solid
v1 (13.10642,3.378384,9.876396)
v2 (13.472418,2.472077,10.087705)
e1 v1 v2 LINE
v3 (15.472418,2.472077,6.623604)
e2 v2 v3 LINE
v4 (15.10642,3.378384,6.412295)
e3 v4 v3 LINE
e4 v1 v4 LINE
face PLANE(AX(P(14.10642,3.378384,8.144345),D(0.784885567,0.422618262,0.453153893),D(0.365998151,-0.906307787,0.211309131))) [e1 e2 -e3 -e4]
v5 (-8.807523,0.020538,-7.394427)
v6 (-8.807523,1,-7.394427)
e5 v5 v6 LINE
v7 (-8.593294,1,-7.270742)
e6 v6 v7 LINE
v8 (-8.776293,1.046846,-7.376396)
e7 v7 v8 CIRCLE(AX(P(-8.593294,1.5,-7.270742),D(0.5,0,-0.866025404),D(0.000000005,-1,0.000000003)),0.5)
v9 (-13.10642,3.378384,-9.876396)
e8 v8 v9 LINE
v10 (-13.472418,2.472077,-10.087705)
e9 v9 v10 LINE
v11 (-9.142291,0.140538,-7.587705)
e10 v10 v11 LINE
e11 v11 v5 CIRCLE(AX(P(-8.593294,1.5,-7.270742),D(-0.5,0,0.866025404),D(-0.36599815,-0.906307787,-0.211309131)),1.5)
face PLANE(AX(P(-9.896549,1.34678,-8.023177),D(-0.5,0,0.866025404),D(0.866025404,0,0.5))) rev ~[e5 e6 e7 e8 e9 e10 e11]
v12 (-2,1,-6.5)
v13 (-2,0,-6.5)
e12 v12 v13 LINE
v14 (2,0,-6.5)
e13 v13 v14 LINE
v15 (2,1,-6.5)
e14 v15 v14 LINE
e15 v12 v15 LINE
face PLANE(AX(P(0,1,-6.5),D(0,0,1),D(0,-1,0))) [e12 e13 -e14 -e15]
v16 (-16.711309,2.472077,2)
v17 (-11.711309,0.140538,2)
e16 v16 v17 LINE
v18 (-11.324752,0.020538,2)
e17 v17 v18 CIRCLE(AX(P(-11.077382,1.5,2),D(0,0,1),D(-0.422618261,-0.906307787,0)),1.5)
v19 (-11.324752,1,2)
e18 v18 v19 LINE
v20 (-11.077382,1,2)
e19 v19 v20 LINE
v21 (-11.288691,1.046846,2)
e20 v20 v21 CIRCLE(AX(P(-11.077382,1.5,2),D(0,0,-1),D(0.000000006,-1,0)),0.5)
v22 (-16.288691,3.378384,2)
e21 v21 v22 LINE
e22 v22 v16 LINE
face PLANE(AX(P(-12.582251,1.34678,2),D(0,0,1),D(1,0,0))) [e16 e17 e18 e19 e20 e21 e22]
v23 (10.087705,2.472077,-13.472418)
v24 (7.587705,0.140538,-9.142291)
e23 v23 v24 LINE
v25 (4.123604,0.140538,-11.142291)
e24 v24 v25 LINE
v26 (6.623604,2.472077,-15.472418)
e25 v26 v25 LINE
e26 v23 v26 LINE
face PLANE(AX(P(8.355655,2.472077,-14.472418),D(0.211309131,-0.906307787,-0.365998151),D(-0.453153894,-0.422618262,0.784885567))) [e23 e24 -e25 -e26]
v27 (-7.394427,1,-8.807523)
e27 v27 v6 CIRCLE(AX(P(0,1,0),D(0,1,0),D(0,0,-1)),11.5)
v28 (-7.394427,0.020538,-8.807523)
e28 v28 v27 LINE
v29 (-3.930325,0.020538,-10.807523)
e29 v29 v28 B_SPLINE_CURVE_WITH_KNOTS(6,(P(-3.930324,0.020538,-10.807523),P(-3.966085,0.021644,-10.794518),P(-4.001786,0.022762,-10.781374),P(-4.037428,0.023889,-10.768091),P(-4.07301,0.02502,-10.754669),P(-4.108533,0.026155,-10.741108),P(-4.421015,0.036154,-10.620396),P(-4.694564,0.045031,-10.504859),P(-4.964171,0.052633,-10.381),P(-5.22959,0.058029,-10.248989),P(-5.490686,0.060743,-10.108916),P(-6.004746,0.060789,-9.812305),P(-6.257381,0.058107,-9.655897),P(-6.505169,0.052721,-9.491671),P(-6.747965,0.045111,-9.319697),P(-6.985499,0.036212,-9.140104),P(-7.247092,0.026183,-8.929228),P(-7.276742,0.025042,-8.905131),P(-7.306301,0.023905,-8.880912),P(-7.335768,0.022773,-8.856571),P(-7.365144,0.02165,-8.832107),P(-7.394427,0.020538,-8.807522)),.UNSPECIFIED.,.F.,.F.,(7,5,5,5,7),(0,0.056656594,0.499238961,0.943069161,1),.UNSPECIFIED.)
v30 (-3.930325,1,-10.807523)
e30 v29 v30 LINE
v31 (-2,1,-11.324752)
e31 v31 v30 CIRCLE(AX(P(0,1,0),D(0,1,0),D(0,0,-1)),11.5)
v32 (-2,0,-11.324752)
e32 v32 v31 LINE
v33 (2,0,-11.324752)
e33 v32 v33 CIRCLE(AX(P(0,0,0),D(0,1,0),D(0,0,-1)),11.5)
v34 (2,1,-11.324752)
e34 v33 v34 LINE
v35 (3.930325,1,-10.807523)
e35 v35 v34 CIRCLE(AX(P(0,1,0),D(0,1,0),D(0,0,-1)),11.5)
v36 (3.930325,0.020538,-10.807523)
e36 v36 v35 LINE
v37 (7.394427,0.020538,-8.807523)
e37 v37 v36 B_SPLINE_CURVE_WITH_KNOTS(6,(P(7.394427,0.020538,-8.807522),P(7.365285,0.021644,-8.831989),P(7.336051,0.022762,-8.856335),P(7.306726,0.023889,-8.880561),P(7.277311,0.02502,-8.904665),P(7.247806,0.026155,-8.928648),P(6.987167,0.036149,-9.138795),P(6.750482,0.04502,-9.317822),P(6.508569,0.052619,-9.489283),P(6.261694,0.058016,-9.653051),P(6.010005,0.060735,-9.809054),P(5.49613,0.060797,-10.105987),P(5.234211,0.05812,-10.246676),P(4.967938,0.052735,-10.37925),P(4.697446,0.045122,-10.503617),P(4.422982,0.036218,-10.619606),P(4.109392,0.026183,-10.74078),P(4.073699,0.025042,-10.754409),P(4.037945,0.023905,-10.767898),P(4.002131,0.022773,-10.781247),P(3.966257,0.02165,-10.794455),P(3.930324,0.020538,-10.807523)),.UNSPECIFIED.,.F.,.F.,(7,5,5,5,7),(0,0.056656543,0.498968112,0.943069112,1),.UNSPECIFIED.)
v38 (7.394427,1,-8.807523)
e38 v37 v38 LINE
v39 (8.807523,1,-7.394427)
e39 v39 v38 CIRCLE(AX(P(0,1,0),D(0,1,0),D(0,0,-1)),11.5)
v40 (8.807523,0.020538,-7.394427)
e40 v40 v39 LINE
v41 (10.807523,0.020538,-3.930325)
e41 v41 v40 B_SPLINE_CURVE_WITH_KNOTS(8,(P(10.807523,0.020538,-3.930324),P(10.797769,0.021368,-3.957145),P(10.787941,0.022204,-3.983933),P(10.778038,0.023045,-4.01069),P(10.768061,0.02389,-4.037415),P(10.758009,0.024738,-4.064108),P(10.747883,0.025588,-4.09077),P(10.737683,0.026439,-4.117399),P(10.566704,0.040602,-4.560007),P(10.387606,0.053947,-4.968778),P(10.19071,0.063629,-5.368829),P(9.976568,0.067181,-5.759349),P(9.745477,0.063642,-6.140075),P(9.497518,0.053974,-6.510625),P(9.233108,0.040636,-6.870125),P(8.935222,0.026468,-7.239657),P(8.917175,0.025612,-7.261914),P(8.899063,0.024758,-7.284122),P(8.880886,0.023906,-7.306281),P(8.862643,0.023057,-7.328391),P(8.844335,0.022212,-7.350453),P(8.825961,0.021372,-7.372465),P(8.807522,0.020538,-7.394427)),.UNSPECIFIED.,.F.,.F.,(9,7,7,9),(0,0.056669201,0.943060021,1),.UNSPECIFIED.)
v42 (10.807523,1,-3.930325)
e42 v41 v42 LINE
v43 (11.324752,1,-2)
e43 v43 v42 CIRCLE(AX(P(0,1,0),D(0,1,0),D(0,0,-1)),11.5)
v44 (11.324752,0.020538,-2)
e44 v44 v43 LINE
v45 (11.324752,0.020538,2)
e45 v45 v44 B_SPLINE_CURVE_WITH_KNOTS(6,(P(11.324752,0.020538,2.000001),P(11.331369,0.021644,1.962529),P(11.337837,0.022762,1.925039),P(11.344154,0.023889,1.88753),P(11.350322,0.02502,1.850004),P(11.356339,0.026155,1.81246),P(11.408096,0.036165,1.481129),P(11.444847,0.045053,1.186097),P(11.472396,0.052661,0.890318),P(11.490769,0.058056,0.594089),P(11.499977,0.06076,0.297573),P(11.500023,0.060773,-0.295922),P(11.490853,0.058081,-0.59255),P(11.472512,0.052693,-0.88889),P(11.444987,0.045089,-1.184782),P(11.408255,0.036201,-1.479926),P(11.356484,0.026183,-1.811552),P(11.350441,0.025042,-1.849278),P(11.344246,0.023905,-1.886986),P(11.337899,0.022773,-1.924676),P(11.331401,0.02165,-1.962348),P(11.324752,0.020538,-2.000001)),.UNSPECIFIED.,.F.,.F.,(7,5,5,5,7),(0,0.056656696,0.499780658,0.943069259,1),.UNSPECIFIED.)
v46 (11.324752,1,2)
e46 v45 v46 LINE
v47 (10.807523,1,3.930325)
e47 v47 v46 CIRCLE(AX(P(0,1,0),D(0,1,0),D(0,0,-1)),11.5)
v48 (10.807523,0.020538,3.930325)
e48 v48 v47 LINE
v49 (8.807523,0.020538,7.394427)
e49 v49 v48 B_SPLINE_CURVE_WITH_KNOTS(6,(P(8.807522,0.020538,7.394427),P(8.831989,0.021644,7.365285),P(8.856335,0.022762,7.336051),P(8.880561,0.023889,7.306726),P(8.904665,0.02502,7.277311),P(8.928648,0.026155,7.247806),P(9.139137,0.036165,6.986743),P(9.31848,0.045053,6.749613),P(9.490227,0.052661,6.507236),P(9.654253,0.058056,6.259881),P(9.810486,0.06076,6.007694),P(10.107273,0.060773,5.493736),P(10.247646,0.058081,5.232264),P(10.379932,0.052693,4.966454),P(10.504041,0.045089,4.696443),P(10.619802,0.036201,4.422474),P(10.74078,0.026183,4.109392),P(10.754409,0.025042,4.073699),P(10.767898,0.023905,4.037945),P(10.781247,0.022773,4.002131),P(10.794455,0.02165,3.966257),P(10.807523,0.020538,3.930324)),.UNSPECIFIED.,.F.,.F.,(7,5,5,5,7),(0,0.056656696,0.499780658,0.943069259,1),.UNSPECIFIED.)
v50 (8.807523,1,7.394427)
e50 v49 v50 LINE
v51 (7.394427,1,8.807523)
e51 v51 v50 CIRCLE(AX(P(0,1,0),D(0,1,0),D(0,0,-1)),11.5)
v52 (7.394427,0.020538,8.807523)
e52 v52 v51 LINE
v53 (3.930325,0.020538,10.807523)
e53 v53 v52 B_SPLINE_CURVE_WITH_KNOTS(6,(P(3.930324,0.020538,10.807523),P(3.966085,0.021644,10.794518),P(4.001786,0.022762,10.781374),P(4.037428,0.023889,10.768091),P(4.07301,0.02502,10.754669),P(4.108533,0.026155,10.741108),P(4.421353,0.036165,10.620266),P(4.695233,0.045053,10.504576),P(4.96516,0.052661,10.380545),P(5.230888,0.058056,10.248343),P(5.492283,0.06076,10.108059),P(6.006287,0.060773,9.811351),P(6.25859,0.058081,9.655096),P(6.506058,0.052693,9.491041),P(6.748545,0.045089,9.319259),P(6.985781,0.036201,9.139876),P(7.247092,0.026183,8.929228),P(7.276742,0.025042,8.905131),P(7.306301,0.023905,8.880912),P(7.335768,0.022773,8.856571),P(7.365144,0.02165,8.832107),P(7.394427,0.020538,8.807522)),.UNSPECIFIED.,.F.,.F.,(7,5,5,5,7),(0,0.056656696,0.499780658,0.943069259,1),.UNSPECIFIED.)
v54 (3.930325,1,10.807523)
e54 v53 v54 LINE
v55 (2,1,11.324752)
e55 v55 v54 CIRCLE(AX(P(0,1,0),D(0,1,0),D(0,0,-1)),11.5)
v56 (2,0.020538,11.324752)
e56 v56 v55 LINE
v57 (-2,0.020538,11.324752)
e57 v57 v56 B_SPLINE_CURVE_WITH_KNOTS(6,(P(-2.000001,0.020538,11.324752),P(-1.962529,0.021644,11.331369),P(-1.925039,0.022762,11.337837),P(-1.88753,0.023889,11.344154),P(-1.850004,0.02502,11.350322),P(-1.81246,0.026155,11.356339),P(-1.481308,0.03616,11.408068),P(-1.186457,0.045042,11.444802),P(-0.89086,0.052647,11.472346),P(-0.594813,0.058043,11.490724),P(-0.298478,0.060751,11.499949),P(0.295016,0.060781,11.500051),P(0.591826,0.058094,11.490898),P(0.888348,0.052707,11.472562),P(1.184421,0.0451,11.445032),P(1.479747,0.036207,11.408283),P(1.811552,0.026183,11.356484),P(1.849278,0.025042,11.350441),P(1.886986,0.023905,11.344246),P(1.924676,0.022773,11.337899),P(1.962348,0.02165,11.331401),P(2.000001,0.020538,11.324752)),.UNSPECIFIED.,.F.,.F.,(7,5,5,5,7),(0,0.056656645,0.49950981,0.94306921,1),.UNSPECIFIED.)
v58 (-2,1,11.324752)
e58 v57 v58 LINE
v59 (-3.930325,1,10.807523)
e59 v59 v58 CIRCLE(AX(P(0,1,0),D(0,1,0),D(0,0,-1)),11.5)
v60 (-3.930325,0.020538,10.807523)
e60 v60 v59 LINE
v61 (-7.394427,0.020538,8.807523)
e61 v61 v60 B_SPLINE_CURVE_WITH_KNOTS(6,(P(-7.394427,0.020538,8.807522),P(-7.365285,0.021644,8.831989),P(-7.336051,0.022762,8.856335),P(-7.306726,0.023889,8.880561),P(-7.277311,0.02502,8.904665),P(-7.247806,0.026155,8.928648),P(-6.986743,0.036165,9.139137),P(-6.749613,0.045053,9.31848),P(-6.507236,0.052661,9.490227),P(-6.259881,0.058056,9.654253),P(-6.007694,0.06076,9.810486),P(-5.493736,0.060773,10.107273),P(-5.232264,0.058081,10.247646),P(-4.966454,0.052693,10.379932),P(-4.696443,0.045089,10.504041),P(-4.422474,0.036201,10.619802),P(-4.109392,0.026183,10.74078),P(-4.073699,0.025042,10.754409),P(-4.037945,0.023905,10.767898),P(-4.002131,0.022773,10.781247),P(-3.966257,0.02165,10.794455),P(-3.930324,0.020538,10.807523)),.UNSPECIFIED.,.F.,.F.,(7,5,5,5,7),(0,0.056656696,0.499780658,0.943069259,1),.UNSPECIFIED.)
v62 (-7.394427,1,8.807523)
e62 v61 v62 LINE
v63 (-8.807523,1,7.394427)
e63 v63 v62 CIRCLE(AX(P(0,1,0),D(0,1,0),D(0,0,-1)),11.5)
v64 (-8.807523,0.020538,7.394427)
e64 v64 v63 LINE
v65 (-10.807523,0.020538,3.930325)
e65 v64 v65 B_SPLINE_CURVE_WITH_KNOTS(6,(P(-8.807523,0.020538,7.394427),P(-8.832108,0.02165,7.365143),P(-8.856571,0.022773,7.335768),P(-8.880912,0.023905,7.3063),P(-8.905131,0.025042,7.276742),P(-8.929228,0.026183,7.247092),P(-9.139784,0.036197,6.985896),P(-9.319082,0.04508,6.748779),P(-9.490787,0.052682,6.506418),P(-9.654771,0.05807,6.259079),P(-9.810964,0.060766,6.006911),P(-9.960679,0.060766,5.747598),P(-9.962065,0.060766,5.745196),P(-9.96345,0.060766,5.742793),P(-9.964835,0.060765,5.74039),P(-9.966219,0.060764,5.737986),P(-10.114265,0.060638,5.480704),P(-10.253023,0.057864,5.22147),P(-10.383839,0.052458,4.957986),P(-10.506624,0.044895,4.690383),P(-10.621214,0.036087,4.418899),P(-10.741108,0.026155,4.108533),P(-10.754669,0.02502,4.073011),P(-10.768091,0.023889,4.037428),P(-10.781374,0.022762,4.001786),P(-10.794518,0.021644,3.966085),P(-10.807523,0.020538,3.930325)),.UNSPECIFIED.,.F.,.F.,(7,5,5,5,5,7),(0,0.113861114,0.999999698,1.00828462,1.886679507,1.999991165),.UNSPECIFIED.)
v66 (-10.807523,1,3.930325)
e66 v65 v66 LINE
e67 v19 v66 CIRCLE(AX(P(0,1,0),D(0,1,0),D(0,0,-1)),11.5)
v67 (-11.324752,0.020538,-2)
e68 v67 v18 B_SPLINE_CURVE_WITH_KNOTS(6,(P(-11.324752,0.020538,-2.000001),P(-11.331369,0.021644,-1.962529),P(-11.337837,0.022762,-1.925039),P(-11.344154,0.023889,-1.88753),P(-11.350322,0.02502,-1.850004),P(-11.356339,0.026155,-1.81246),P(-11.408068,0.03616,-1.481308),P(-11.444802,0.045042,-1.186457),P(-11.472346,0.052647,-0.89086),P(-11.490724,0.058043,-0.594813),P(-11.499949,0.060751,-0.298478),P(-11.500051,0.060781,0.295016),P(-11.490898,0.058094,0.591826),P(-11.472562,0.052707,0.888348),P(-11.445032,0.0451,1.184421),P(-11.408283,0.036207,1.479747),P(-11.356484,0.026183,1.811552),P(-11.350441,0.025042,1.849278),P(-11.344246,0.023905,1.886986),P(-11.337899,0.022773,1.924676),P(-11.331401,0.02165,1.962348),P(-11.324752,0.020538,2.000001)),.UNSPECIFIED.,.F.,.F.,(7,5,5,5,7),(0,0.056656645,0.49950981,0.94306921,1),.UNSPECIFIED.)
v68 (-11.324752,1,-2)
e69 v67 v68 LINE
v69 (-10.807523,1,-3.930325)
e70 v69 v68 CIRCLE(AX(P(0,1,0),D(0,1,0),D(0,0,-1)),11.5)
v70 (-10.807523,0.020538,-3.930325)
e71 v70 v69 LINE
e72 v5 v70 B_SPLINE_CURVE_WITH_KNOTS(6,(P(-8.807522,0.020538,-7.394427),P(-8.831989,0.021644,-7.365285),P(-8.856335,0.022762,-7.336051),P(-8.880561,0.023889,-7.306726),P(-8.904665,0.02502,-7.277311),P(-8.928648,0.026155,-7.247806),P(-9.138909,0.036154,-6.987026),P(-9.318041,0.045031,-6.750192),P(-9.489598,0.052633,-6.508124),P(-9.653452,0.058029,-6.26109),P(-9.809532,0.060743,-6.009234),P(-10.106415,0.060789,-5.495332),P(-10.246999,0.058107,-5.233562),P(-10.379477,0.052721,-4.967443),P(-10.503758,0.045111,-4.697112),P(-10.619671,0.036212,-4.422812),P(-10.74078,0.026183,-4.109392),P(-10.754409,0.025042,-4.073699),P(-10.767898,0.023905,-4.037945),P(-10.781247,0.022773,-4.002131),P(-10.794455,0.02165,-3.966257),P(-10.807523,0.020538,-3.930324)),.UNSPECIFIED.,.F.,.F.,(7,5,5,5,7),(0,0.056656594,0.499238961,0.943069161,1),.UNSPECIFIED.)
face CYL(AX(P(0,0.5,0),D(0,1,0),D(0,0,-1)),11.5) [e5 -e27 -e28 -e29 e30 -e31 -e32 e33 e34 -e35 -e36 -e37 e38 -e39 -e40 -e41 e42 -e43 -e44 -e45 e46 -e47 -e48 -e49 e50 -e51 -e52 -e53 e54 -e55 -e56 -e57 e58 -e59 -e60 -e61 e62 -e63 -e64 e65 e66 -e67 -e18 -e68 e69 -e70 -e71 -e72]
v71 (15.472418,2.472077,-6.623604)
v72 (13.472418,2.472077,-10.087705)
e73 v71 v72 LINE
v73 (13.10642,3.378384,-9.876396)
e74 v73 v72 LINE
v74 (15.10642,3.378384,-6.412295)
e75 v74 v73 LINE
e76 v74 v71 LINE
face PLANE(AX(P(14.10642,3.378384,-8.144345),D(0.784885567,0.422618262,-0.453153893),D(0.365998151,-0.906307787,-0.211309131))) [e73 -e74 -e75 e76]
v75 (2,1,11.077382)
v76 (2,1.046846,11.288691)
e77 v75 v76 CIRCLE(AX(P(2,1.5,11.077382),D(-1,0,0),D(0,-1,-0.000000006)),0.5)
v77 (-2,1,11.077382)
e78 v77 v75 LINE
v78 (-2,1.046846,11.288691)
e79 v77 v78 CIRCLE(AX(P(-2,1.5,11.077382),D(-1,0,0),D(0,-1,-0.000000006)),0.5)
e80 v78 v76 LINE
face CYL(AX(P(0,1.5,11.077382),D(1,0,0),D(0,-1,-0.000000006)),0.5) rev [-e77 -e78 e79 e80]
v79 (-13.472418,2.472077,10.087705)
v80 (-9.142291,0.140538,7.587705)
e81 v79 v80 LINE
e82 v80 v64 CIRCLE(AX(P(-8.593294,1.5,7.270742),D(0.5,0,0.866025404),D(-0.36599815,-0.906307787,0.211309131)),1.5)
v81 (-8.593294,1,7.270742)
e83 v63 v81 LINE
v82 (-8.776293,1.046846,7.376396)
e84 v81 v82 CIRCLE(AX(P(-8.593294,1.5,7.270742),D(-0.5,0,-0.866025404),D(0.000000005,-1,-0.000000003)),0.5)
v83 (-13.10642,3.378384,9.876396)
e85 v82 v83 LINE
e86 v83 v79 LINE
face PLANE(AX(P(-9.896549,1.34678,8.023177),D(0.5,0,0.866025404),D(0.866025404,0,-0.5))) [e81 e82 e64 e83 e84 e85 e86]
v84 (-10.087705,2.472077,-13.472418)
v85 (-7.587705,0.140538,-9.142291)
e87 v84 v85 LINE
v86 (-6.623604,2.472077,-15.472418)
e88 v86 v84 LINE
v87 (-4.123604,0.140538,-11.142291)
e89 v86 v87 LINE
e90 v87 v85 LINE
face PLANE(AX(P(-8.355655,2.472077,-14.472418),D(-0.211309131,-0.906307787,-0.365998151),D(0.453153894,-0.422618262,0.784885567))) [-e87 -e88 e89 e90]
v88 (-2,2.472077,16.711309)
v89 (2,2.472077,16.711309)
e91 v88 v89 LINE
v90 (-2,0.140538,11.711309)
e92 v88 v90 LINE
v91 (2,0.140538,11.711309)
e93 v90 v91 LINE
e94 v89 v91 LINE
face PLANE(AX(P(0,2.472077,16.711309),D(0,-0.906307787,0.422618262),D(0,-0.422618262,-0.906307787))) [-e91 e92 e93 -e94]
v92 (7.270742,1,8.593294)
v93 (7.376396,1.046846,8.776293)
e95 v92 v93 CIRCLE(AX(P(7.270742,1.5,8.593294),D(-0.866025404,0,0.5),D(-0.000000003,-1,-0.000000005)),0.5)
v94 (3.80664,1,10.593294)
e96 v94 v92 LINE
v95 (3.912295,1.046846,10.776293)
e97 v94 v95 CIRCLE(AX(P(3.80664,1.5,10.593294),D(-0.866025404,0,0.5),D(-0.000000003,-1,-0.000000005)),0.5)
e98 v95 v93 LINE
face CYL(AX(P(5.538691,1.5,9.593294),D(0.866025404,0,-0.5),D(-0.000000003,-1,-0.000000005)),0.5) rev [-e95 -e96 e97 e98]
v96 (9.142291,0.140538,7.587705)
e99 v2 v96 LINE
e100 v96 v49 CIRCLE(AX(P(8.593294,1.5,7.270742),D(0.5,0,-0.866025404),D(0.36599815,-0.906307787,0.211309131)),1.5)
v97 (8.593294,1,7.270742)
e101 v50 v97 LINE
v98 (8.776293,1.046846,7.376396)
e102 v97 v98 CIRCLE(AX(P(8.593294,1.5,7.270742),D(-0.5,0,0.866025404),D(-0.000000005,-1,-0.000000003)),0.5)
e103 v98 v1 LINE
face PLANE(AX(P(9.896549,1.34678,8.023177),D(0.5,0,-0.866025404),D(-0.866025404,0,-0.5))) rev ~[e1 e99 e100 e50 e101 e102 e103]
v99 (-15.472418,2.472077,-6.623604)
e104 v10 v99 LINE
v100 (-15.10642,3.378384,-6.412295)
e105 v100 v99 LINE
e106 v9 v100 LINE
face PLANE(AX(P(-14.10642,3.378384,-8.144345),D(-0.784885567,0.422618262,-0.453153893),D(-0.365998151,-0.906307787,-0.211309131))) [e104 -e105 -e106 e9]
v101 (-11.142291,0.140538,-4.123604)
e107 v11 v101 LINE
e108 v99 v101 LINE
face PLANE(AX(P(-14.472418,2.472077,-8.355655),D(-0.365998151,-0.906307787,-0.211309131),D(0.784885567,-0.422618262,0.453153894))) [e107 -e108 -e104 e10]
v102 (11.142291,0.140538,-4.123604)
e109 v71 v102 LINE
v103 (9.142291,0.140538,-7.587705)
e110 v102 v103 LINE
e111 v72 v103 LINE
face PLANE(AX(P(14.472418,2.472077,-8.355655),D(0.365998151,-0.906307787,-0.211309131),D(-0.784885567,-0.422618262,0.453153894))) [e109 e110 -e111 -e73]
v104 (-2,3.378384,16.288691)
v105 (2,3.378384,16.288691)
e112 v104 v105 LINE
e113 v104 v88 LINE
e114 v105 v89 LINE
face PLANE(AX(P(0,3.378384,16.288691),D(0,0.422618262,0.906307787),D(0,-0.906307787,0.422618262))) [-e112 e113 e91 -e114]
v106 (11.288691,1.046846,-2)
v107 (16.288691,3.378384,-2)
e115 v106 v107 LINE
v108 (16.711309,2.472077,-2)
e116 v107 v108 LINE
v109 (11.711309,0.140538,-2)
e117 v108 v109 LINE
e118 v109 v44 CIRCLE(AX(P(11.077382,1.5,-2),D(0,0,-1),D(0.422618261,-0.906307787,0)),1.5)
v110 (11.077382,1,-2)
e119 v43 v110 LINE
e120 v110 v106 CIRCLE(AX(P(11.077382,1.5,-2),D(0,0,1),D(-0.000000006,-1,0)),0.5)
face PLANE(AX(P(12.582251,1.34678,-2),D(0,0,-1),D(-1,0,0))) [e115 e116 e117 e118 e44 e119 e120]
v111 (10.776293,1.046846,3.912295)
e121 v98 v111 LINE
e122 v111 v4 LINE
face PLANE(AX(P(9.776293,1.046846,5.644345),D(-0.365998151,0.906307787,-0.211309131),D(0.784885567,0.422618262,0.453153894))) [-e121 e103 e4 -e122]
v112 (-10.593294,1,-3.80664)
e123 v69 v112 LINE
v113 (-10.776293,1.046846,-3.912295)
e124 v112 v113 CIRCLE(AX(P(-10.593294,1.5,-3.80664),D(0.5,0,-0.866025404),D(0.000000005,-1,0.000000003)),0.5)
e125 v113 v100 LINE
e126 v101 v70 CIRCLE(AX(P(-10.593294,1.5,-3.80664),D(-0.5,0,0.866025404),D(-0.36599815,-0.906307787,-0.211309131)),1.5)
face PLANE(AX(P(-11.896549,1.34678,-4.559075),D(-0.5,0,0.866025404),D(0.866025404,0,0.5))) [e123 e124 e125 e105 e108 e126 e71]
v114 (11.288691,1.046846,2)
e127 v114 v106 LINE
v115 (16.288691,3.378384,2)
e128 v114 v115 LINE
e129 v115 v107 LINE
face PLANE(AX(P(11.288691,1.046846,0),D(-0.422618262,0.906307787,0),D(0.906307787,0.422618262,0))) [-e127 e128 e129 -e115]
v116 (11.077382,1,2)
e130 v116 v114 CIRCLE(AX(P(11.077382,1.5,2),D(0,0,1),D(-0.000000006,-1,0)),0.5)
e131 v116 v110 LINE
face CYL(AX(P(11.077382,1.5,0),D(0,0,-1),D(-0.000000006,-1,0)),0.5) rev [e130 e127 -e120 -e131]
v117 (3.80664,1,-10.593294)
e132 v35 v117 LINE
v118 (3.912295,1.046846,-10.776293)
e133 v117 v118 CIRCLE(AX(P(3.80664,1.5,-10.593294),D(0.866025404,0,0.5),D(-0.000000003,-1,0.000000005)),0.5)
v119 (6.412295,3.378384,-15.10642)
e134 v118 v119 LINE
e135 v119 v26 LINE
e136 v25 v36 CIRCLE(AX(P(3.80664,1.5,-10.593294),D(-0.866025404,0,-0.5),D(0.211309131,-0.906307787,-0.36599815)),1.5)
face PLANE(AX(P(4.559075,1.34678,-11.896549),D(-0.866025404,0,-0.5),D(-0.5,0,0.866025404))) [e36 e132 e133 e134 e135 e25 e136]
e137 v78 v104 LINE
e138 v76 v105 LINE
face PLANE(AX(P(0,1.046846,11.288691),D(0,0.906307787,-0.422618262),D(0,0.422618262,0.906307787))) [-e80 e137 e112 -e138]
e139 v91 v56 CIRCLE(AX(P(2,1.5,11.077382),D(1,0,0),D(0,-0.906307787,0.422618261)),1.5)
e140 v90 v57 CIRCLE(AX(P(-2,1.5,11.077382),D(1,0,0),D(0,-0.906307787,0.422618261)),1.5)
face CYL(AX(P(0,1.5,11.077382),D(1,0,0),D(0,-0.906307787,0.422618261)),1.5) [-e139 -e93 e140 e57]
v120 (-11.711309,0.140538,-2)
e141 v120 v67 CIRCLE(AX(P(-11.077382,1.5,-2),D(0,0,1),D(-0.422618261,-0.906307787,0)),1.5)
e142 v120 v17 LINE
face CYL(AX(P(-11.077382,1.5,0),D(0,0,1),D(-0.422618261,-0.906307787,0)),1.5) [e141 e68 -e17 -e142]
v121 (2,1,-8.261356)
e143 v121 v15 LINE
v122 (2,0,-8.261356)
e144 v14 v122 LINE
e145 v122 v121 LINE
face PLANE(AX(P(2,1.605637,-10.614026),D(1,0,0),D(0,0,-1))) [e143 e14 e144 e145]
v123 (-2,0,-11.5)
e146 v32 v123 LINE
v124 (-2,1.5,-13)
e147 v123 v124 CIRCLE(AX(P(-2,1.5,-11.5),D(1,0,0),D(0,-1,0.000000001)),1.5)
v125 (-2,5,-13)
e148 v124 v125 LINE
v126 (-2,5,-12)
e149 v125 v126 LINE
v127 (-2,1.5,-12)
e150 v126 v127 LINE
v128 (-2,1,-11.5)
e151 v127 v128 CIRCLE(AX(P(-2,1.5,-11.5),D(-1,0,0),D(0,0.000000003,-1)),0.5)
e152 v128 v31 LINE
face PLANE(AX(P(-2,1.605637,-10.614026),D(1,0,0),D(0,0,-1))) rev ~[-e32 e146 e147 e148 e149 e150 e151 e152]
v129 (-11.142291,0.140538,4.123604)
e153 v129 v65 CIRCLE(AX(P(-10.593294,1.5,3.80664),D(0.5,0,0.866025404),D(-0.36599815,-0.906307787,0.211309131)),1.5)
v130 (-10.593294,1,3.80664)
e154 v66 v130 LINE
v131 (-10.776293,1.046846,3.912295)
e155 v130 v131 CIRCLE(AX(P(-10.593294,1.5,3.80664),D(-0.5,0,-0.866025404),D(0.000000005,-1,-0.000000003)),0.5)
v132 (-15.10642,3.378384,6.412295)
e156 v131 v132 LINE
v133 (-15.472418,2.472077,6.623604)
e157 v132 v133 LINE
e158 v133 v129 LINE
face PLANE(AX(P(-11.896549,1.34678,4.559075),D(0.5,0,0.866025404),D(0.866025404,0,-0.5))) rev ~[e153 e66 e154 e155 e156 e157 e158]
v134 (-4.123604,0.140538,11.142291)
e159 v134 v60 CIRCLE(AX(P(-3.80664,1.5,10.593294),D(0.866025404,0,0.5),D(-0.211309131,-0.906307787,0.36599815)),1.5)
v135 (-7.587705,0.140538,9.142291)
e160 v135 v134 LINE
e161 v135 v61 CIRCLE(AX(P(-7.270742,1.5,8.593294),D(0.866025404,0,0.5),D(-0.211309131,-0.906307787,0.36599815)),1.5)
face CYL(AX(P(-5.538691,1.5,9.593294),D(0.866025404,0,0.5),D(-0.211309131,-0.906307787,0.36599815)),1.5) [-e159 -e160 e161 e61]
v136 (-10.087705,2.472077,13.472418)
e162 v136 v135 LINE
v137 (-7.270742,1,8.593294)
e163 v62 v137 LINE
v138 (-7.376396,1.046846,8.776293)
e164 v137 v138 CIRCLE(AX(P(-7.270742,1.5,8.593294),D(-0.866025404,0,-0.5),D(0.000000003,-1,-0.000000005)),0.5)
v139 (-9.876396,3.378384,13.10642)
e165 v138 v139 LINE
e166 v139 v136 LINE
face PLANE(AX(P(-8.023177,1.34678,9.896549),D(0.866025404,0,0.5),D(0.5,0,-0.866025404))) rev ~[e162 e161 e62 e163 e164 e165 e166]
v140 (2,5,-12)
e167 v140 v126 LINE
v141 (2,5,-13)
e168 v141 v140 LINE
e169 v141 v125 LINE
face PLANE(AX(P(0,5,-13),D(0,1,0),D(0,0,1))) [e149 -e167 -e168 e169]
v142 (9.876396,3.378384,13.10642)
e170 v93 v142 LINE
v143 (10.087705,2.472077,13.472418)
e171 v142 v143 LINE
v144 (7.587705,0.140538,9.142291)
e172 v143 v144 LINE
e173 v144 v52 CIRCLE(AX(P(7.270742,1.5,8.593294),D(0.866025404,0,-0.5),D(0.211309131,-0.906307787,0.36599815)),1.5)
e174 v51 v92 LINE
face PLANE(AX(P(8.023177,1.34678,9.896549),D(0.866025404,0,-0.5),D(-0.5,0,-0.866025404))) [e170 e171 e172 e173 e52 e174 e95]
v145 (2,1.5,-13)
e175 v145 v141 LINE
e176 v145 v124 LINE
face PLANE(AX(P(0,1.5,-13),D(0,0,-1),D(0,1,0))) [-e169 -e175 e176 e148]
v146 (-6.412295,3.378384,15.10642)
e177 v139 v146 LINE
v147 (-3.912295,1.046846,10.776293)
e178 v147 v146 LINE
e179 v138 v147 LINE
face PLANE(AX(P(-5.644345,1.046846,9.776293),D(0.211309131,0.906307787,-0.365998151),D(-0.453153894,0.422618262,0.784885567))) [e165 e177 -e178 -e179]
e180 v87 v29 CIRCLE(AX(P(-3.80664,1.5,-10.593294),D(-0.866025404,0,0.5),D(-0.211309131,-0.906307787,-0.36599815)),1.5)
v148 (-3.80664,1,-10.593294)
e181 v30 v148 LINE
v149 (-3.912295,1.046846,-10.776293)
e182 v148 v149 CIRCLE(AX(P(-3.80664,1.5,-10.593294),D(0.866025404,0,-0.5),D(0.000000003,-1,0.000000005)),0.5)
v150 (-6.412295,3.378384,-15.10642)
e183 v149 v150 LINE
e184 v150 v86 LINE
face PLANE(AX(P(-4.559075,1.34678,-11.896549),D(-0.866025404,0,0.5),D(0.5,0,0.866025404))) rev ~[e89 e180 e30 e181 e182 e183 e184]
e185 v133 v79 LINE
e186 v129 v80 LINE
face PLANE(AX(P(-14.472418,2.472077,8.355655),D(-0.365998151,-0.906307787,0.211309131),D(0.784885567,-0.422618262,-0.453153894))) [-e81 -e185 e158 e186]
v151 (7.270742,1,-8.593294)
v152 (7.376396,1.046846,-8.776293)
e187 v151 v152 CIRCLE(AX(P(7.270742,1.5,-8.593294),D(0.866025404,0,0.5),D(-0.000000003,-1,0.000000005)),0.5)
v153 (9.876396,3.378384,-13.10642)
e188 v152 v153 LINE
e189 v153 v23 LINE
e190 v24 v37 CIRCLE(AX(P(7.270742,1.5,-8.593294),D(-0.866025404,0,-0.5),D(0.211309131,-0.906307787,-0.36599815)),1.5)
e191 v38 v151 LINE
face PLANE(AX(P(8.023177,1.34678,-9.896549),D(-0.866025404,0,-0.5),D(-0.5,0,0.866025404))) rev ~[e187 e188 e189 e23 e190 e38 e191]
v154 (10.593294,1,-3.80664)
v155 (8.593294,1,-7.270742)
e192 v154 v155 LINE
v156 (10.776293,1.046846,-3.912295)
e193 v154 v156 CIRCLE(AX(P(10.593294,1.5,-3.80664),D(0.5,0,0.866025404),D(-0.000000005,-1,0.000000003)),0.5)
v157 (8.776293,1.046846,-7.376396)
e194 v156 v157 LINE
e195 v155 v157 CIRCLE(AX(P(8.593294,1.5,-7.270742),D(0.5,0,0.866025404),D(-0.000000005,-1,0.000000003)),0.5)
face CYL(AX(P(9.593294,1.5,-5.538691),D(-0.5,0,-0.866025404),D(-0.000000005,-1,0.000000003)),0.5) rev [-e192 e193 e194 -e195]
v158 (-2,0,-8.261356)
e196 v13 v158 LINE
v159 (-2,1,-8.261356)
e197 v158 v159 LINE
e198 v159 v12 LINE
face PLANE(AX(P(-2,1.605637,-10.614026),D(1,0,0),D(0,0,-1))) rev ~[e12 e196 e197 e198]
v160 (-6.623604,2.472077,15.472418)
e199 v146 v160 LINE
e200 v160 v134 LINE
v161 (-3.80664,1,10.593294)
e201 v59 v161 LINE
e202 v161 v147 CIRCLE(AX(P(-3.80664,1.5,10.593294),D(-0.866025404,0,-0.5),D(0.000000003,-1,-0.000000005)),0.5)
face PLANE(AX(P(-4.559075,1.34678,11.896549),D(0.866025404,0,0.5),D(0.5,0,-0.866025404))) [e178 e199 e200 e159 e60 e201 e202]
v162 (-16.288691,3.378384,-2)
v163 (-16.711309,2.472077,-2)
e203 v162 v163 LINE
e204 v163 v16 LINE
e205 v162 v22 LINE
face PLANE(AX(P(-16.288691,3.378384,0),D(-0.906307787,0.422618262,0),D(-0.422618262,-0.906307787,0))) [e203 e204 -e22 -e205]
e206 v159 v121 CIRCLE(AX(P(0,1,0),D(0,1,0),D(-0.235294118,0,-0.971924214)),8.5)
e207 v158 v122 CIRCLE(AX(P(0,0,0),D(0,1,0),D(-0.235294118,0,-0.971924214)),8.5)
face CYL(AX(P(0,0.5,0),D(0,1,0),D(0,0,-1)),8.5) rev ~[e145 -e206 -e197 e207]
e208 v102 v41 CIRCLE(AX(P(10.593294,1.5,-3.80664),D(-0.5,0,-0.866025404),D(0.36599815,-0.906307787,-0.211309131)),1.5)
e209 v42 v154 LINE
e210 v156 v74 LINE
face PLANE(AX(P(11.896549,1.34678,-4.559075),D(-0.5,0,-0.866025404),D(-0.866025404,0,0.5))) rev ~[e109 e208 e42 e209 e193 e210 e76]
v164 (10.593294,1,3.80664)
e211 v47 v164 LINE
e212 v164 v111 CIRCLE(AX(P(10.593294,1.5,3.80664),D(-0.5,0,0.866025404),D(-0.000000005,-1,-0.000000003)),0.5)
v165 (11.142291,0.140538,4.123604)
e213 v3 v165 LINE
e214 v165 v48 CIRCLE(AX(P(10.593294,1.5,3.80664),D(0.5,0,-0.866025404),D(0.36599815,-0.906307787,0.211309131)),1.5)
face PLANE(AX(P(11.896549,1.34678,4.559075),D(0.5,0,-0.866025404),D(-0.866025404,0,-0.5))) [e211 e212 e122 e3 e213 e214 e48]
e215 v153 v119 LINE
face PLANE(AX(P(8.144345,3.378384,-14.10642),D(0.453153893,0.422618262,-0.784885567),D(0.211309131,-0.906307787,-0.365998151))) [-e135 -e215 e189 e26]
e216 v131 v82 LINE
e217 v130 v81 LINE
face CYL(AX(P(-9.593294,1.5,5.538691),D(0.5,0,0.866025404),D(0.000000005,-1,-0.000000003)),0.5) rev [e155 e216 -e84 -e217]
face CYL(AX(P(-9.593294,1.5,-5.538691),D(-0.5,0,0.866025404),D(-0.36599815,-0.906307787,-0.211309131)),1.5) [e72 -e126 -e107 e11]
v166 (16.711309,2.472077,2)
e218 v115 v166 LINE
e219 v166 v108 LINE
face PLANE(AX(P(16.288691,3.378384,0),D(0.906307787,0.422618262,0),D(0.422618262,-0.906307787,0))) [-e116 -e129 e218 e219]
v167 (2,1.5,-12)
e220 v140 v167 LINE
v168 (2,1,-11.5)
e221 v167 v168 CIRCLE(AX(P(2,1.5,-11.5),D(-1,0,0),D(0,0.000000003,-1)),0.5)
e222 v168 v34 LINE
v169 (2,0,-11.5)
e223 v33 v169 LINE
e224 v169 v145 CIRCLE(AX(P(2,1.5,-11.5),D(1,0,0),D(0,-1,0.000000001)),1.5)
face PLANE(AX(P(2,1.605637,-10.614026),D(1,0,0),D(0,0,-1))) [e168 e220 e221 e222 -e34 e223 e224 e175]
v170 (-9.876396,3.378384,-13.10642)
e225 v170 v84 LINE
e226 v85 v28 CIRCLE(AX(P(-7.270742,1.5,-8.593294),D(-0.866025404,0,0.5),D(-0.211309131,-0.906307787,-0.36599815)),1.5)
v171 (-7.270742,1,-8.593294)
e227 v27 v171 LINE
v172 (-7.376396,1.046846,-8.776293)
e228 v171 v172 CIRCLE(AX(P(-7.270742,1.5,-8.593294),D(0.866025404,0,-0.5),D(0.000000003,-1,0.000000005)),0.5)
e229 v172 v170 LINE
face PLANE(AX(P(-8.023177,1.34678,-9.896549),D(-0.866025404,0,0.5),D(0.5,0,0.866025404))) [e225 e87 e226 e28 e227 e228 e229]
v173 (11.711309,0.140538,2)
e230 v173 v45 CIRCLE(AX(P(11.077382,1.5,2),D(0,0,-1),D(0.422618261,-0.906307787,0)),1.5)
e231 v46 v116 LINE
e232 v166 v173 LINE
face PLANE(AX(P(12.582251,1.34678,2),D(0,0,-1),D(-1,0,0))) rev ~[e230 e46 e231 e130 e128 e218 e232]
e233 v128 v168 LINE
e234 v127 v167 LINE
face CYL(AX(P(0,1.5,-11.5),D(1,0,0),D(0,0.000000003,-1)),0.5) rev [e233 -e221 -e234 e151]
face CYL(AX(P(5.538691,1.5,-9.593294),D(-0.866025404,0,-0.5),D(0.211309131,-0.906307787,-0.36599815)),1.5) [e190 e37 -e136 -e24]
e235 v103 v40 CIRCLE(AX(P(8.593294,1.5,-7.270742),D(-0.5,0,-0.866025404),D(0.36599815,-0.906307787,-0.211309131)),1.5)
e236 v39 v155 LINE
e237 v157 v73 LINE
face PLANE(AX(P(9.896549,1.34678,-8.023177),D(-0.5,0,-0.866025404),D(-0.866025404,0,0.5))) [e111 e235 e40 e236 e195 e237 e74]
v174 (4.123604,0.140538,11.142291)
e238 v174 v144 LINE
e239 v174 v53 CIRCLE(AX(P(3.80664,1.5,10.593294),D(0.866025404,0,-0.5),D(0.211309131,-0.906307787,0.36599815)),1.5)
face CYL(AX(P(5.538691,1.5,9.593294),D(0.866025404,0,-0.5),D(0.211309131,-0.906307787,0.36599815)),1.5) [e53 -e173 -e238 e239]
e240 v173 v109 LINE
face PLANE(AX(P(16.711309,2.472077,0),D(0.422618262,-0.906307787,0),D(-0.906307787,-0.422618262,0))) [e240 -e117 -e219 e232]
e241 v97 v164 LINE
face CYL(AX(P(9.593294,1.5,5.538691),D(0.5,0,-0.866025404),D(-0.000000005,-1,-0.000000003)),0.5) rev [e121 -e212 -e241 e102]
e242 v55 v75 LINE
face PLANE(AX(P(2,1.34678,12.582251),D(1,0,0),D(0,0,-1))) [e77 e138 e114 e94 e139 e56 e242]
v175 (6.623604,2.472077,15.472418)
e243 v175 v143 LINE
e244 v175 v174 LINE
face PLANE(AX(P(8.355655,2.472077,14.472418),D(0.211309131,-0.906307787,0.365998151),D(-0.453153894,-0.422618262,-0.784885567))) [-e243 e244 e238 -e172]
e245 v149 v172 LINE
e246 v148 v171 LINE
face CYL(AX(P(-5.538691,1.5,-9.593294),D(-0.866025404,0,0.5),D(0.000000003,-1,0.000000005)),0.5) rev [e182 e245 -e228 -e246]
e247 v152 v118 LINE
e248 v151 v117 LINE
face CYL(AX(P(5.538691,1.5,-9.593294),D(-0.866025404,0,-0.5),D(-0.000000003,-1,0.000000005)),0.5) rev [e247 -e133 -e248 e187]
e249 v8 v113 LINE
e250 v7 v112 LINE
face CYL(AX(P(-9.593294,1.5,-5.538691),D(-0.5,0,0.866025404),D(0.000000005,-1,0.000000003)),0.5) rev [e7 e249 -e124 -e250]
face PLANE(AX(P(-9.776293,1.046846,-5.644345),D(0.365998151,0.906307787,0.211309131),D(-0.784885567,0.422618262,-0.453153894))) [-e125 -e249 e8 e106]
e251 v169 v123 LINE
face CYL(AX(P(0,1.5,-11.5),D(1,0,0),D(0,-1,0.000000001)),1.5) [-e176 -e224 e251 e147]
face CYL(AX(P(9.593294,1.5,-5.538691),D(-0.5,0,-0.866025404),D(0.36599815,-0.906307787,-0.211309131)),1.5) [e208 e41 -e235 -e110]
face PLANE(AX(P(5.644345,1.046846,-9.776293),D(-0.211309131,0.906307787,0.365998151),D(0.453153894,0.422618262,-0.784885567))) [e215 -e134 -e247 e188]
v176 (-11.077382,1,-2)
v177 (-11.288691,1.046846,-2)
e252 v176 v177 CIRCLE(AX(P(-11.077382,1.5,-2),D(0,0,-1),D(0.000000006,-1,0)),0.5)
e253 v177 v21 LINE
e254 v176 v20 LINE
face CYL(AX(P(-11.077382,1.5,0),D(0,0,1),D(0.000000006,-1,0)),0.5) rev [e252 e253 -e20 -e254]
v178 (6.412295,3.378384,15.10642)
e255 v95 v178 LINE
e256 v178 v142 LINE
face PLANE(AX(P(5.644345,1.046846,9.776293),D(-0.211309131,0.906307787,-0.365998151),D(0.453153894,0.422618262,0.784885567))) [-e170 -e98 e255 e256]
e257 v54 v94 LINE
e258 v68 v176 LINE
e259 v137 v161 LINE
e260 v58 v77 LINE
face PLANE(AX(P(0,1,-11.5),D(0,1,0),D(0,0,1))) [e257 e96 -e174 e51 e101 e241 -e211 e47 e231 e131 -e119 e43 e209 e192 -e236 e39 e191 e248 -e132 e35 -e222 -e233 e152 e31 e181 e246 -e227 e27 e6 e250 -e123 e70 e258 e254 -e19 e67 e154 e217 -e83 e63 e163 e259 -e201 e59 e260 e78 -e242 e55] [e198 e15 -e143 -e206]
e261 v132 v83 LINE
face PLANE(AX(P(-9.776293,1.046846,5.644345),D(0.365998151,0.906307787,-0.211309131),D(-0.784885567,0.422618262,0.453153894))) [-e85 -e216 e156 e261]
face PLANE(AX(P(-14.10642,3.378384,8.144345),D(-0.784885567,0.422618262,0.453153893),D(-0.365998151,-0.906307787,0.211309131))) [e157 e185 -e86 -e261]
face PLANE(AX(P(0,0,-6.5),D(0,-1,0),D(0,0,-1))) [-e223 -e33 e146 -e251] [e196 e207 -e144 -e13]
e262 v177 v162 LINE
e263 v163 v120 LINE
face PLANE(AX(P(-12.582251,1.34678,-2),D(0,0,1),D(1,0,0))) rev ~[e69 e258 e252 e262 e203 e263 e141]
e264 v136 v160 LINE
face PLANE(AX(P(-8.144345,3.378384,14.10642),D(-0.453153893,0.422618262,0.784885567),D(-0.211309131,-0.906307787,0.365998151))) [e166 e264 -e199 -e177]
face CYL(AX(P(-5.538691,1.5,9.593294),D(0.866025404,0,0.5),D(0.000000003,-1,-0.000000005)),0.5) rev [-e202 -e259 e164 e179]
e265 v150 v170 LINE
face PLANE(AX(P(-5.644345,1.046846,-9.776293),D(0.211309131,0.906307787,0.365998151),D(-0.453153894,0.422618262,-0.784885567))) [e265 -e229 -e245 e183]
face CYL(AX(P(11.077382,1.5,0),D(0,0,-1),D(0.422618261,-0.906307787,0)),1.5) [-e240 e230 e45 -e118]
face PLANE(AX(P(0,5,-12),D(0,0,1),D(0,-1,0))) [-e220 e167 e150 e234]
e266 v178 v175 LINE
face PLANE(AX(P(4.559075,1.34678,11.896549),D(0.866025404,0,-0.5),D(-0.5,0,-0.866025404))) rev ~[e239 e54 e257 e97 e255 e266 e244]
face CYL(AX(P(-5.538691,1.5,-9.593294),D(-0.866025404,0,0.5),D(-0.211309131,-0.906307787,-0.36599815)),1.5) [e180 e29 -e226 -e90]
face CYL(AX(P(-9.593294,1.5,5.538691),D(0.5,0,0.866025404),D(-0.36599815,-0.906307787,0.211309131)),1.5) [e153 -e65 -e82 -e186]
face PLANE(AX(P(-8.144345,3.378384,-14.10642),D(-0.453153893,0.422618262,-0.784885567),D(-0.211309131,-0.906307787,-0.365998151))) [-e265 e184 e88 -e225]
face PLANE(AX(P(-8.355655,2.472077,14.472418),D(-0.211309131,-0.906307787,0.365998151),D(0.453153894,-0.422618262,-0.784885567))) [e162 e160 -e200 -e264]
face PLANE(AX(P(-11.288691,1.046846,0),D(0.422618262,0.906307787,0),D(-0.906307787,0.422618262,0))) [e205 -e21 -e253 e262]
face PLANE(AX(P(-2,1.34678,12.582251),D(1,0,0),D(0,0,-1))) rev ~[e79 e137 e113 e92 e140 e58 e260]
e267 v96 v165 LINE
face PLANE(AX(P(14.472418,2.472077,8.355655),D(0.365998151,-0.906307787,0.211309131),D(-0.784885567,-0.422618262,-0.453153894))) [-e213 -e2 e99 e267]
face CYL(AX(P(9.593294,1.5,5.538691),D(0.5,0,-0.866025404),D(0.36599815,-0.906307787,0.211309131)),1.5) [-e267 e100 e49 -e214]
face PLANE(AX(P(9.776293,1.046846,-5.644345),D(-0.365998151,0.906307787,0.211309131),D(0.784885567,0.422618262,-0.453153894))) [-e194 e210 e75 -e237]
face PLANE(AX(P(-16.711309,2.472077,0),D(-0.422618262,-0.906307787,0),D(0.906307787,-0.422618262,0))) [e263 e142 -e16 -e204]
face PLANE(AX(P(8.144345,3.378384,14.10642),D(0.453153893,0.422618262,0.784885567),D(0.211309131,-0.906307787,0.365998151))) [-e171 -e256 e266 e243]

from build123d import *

# Parameters (mm, degrees)
ESQUISSE1_W             = 3
ESQUISSE1_H             = 1
LANGUETTE_PLI_E_DEPTH   = 2
LANGUETTE_DEPTH         = 2
NBR_DE_LANGUETTES_COUNT = 11
NBR_DE_LANGUETTES_ANGLE = 300


with BuildPart() as part:
    # Esquisse1 → Base (revolve)
    with BuildSketch(Plane.XY, mode=Mode.PRIVATE) as base_sk:
        with Locations((10, 0.5)):
            Rectangle(ESQUISSE1_W, ESQUISSE1_H)
    revolve(base_sk.sketch.rotate(Axis((0, 0, 0), (0, 1, 0)), 90), axis=Axis((0, 0, 0), (0, 1, 0)))

    # Esquisse3 → Languette pliée (add, symmetric)
    with BuildSketch(Plane(origin=(0, 0, 0), x_dir=(0, 0, -1), z_dir=(1, 0, 0))):
        with BuildLine():
            Line((12, 5), (12, 1.5))
            ThreePointArc((12, 1.5), (11.853553391, 1.146446609), (11.5, 1))
            Line((11.5, 1), (8.5, 1))
            Line((8.5, 1), (6.5, 1))
            Line((6.5, 1), (6.5, 0))
            Line((6.5, 0), (8.5, 0))
            Line((8.5, 0), (11.5, 0))
            ThreePointArc((11.5, 0), (12.560660172, 0.439339828), (13, 1.5))
            Line((13, 1.5), (13, 5))
            Line((13, 5), (12, 5))
        make_face()
    extrude(amount=LANGUETTE_PLI_E_DEPTH, both=True)

    # Esquisse2 → Languette (add, symmetric)
    with BuildSketch(Plane(origin=(0, 0, 0), x_dir=(-0.5000000000000071, 0, 0.8660254037844346), z_dir=(-0.8660254037844346, 0, -0.5000000000000071))):
        with BuildLine():
            Line((-8.5, 1), (-11.077381738, 1))
            ThreePointArc((-11.077381738, 1), (-11.185601545, 1.011851996), (-11.288690869, 1.046846106))
            Line((-11.288690869, 1.046846106), (-16.288690869, 3.378384397))
            Line((-16.288690869, 3.378384397), (-16.711309131, 2.47207661))
            Line((-16.711309131, 2.47207661), (-11.711309131, 0.140538319))
            ThreePointArc((-11.711309131, 0.140538319), (-11.402041159, 0.035555989), (-11.077381738, 0))
            Line((-11.077381738, 0), (-8.5, 0))
            Line((-8.5, 0), (-8.5, 1))
        make_face()
    languette = extrude(amount=LANGUETTE_DEPTH, both=True)

    # Nbr de languettes: Languette ×11 about axis
    nbr_de_languettes_axis = Axis((0, 0, 0), (0, -1, 0))
    for i in range(1, NBR_DE_LANGUETTES_COUNT):
        add(languette.rotate(nbr_de_languettes_axis, i * NBR_DE_LANGUETTES_ANGLE / (NBR_DE_LANGUETTES_COUNT - 1)))


solid = part.part
